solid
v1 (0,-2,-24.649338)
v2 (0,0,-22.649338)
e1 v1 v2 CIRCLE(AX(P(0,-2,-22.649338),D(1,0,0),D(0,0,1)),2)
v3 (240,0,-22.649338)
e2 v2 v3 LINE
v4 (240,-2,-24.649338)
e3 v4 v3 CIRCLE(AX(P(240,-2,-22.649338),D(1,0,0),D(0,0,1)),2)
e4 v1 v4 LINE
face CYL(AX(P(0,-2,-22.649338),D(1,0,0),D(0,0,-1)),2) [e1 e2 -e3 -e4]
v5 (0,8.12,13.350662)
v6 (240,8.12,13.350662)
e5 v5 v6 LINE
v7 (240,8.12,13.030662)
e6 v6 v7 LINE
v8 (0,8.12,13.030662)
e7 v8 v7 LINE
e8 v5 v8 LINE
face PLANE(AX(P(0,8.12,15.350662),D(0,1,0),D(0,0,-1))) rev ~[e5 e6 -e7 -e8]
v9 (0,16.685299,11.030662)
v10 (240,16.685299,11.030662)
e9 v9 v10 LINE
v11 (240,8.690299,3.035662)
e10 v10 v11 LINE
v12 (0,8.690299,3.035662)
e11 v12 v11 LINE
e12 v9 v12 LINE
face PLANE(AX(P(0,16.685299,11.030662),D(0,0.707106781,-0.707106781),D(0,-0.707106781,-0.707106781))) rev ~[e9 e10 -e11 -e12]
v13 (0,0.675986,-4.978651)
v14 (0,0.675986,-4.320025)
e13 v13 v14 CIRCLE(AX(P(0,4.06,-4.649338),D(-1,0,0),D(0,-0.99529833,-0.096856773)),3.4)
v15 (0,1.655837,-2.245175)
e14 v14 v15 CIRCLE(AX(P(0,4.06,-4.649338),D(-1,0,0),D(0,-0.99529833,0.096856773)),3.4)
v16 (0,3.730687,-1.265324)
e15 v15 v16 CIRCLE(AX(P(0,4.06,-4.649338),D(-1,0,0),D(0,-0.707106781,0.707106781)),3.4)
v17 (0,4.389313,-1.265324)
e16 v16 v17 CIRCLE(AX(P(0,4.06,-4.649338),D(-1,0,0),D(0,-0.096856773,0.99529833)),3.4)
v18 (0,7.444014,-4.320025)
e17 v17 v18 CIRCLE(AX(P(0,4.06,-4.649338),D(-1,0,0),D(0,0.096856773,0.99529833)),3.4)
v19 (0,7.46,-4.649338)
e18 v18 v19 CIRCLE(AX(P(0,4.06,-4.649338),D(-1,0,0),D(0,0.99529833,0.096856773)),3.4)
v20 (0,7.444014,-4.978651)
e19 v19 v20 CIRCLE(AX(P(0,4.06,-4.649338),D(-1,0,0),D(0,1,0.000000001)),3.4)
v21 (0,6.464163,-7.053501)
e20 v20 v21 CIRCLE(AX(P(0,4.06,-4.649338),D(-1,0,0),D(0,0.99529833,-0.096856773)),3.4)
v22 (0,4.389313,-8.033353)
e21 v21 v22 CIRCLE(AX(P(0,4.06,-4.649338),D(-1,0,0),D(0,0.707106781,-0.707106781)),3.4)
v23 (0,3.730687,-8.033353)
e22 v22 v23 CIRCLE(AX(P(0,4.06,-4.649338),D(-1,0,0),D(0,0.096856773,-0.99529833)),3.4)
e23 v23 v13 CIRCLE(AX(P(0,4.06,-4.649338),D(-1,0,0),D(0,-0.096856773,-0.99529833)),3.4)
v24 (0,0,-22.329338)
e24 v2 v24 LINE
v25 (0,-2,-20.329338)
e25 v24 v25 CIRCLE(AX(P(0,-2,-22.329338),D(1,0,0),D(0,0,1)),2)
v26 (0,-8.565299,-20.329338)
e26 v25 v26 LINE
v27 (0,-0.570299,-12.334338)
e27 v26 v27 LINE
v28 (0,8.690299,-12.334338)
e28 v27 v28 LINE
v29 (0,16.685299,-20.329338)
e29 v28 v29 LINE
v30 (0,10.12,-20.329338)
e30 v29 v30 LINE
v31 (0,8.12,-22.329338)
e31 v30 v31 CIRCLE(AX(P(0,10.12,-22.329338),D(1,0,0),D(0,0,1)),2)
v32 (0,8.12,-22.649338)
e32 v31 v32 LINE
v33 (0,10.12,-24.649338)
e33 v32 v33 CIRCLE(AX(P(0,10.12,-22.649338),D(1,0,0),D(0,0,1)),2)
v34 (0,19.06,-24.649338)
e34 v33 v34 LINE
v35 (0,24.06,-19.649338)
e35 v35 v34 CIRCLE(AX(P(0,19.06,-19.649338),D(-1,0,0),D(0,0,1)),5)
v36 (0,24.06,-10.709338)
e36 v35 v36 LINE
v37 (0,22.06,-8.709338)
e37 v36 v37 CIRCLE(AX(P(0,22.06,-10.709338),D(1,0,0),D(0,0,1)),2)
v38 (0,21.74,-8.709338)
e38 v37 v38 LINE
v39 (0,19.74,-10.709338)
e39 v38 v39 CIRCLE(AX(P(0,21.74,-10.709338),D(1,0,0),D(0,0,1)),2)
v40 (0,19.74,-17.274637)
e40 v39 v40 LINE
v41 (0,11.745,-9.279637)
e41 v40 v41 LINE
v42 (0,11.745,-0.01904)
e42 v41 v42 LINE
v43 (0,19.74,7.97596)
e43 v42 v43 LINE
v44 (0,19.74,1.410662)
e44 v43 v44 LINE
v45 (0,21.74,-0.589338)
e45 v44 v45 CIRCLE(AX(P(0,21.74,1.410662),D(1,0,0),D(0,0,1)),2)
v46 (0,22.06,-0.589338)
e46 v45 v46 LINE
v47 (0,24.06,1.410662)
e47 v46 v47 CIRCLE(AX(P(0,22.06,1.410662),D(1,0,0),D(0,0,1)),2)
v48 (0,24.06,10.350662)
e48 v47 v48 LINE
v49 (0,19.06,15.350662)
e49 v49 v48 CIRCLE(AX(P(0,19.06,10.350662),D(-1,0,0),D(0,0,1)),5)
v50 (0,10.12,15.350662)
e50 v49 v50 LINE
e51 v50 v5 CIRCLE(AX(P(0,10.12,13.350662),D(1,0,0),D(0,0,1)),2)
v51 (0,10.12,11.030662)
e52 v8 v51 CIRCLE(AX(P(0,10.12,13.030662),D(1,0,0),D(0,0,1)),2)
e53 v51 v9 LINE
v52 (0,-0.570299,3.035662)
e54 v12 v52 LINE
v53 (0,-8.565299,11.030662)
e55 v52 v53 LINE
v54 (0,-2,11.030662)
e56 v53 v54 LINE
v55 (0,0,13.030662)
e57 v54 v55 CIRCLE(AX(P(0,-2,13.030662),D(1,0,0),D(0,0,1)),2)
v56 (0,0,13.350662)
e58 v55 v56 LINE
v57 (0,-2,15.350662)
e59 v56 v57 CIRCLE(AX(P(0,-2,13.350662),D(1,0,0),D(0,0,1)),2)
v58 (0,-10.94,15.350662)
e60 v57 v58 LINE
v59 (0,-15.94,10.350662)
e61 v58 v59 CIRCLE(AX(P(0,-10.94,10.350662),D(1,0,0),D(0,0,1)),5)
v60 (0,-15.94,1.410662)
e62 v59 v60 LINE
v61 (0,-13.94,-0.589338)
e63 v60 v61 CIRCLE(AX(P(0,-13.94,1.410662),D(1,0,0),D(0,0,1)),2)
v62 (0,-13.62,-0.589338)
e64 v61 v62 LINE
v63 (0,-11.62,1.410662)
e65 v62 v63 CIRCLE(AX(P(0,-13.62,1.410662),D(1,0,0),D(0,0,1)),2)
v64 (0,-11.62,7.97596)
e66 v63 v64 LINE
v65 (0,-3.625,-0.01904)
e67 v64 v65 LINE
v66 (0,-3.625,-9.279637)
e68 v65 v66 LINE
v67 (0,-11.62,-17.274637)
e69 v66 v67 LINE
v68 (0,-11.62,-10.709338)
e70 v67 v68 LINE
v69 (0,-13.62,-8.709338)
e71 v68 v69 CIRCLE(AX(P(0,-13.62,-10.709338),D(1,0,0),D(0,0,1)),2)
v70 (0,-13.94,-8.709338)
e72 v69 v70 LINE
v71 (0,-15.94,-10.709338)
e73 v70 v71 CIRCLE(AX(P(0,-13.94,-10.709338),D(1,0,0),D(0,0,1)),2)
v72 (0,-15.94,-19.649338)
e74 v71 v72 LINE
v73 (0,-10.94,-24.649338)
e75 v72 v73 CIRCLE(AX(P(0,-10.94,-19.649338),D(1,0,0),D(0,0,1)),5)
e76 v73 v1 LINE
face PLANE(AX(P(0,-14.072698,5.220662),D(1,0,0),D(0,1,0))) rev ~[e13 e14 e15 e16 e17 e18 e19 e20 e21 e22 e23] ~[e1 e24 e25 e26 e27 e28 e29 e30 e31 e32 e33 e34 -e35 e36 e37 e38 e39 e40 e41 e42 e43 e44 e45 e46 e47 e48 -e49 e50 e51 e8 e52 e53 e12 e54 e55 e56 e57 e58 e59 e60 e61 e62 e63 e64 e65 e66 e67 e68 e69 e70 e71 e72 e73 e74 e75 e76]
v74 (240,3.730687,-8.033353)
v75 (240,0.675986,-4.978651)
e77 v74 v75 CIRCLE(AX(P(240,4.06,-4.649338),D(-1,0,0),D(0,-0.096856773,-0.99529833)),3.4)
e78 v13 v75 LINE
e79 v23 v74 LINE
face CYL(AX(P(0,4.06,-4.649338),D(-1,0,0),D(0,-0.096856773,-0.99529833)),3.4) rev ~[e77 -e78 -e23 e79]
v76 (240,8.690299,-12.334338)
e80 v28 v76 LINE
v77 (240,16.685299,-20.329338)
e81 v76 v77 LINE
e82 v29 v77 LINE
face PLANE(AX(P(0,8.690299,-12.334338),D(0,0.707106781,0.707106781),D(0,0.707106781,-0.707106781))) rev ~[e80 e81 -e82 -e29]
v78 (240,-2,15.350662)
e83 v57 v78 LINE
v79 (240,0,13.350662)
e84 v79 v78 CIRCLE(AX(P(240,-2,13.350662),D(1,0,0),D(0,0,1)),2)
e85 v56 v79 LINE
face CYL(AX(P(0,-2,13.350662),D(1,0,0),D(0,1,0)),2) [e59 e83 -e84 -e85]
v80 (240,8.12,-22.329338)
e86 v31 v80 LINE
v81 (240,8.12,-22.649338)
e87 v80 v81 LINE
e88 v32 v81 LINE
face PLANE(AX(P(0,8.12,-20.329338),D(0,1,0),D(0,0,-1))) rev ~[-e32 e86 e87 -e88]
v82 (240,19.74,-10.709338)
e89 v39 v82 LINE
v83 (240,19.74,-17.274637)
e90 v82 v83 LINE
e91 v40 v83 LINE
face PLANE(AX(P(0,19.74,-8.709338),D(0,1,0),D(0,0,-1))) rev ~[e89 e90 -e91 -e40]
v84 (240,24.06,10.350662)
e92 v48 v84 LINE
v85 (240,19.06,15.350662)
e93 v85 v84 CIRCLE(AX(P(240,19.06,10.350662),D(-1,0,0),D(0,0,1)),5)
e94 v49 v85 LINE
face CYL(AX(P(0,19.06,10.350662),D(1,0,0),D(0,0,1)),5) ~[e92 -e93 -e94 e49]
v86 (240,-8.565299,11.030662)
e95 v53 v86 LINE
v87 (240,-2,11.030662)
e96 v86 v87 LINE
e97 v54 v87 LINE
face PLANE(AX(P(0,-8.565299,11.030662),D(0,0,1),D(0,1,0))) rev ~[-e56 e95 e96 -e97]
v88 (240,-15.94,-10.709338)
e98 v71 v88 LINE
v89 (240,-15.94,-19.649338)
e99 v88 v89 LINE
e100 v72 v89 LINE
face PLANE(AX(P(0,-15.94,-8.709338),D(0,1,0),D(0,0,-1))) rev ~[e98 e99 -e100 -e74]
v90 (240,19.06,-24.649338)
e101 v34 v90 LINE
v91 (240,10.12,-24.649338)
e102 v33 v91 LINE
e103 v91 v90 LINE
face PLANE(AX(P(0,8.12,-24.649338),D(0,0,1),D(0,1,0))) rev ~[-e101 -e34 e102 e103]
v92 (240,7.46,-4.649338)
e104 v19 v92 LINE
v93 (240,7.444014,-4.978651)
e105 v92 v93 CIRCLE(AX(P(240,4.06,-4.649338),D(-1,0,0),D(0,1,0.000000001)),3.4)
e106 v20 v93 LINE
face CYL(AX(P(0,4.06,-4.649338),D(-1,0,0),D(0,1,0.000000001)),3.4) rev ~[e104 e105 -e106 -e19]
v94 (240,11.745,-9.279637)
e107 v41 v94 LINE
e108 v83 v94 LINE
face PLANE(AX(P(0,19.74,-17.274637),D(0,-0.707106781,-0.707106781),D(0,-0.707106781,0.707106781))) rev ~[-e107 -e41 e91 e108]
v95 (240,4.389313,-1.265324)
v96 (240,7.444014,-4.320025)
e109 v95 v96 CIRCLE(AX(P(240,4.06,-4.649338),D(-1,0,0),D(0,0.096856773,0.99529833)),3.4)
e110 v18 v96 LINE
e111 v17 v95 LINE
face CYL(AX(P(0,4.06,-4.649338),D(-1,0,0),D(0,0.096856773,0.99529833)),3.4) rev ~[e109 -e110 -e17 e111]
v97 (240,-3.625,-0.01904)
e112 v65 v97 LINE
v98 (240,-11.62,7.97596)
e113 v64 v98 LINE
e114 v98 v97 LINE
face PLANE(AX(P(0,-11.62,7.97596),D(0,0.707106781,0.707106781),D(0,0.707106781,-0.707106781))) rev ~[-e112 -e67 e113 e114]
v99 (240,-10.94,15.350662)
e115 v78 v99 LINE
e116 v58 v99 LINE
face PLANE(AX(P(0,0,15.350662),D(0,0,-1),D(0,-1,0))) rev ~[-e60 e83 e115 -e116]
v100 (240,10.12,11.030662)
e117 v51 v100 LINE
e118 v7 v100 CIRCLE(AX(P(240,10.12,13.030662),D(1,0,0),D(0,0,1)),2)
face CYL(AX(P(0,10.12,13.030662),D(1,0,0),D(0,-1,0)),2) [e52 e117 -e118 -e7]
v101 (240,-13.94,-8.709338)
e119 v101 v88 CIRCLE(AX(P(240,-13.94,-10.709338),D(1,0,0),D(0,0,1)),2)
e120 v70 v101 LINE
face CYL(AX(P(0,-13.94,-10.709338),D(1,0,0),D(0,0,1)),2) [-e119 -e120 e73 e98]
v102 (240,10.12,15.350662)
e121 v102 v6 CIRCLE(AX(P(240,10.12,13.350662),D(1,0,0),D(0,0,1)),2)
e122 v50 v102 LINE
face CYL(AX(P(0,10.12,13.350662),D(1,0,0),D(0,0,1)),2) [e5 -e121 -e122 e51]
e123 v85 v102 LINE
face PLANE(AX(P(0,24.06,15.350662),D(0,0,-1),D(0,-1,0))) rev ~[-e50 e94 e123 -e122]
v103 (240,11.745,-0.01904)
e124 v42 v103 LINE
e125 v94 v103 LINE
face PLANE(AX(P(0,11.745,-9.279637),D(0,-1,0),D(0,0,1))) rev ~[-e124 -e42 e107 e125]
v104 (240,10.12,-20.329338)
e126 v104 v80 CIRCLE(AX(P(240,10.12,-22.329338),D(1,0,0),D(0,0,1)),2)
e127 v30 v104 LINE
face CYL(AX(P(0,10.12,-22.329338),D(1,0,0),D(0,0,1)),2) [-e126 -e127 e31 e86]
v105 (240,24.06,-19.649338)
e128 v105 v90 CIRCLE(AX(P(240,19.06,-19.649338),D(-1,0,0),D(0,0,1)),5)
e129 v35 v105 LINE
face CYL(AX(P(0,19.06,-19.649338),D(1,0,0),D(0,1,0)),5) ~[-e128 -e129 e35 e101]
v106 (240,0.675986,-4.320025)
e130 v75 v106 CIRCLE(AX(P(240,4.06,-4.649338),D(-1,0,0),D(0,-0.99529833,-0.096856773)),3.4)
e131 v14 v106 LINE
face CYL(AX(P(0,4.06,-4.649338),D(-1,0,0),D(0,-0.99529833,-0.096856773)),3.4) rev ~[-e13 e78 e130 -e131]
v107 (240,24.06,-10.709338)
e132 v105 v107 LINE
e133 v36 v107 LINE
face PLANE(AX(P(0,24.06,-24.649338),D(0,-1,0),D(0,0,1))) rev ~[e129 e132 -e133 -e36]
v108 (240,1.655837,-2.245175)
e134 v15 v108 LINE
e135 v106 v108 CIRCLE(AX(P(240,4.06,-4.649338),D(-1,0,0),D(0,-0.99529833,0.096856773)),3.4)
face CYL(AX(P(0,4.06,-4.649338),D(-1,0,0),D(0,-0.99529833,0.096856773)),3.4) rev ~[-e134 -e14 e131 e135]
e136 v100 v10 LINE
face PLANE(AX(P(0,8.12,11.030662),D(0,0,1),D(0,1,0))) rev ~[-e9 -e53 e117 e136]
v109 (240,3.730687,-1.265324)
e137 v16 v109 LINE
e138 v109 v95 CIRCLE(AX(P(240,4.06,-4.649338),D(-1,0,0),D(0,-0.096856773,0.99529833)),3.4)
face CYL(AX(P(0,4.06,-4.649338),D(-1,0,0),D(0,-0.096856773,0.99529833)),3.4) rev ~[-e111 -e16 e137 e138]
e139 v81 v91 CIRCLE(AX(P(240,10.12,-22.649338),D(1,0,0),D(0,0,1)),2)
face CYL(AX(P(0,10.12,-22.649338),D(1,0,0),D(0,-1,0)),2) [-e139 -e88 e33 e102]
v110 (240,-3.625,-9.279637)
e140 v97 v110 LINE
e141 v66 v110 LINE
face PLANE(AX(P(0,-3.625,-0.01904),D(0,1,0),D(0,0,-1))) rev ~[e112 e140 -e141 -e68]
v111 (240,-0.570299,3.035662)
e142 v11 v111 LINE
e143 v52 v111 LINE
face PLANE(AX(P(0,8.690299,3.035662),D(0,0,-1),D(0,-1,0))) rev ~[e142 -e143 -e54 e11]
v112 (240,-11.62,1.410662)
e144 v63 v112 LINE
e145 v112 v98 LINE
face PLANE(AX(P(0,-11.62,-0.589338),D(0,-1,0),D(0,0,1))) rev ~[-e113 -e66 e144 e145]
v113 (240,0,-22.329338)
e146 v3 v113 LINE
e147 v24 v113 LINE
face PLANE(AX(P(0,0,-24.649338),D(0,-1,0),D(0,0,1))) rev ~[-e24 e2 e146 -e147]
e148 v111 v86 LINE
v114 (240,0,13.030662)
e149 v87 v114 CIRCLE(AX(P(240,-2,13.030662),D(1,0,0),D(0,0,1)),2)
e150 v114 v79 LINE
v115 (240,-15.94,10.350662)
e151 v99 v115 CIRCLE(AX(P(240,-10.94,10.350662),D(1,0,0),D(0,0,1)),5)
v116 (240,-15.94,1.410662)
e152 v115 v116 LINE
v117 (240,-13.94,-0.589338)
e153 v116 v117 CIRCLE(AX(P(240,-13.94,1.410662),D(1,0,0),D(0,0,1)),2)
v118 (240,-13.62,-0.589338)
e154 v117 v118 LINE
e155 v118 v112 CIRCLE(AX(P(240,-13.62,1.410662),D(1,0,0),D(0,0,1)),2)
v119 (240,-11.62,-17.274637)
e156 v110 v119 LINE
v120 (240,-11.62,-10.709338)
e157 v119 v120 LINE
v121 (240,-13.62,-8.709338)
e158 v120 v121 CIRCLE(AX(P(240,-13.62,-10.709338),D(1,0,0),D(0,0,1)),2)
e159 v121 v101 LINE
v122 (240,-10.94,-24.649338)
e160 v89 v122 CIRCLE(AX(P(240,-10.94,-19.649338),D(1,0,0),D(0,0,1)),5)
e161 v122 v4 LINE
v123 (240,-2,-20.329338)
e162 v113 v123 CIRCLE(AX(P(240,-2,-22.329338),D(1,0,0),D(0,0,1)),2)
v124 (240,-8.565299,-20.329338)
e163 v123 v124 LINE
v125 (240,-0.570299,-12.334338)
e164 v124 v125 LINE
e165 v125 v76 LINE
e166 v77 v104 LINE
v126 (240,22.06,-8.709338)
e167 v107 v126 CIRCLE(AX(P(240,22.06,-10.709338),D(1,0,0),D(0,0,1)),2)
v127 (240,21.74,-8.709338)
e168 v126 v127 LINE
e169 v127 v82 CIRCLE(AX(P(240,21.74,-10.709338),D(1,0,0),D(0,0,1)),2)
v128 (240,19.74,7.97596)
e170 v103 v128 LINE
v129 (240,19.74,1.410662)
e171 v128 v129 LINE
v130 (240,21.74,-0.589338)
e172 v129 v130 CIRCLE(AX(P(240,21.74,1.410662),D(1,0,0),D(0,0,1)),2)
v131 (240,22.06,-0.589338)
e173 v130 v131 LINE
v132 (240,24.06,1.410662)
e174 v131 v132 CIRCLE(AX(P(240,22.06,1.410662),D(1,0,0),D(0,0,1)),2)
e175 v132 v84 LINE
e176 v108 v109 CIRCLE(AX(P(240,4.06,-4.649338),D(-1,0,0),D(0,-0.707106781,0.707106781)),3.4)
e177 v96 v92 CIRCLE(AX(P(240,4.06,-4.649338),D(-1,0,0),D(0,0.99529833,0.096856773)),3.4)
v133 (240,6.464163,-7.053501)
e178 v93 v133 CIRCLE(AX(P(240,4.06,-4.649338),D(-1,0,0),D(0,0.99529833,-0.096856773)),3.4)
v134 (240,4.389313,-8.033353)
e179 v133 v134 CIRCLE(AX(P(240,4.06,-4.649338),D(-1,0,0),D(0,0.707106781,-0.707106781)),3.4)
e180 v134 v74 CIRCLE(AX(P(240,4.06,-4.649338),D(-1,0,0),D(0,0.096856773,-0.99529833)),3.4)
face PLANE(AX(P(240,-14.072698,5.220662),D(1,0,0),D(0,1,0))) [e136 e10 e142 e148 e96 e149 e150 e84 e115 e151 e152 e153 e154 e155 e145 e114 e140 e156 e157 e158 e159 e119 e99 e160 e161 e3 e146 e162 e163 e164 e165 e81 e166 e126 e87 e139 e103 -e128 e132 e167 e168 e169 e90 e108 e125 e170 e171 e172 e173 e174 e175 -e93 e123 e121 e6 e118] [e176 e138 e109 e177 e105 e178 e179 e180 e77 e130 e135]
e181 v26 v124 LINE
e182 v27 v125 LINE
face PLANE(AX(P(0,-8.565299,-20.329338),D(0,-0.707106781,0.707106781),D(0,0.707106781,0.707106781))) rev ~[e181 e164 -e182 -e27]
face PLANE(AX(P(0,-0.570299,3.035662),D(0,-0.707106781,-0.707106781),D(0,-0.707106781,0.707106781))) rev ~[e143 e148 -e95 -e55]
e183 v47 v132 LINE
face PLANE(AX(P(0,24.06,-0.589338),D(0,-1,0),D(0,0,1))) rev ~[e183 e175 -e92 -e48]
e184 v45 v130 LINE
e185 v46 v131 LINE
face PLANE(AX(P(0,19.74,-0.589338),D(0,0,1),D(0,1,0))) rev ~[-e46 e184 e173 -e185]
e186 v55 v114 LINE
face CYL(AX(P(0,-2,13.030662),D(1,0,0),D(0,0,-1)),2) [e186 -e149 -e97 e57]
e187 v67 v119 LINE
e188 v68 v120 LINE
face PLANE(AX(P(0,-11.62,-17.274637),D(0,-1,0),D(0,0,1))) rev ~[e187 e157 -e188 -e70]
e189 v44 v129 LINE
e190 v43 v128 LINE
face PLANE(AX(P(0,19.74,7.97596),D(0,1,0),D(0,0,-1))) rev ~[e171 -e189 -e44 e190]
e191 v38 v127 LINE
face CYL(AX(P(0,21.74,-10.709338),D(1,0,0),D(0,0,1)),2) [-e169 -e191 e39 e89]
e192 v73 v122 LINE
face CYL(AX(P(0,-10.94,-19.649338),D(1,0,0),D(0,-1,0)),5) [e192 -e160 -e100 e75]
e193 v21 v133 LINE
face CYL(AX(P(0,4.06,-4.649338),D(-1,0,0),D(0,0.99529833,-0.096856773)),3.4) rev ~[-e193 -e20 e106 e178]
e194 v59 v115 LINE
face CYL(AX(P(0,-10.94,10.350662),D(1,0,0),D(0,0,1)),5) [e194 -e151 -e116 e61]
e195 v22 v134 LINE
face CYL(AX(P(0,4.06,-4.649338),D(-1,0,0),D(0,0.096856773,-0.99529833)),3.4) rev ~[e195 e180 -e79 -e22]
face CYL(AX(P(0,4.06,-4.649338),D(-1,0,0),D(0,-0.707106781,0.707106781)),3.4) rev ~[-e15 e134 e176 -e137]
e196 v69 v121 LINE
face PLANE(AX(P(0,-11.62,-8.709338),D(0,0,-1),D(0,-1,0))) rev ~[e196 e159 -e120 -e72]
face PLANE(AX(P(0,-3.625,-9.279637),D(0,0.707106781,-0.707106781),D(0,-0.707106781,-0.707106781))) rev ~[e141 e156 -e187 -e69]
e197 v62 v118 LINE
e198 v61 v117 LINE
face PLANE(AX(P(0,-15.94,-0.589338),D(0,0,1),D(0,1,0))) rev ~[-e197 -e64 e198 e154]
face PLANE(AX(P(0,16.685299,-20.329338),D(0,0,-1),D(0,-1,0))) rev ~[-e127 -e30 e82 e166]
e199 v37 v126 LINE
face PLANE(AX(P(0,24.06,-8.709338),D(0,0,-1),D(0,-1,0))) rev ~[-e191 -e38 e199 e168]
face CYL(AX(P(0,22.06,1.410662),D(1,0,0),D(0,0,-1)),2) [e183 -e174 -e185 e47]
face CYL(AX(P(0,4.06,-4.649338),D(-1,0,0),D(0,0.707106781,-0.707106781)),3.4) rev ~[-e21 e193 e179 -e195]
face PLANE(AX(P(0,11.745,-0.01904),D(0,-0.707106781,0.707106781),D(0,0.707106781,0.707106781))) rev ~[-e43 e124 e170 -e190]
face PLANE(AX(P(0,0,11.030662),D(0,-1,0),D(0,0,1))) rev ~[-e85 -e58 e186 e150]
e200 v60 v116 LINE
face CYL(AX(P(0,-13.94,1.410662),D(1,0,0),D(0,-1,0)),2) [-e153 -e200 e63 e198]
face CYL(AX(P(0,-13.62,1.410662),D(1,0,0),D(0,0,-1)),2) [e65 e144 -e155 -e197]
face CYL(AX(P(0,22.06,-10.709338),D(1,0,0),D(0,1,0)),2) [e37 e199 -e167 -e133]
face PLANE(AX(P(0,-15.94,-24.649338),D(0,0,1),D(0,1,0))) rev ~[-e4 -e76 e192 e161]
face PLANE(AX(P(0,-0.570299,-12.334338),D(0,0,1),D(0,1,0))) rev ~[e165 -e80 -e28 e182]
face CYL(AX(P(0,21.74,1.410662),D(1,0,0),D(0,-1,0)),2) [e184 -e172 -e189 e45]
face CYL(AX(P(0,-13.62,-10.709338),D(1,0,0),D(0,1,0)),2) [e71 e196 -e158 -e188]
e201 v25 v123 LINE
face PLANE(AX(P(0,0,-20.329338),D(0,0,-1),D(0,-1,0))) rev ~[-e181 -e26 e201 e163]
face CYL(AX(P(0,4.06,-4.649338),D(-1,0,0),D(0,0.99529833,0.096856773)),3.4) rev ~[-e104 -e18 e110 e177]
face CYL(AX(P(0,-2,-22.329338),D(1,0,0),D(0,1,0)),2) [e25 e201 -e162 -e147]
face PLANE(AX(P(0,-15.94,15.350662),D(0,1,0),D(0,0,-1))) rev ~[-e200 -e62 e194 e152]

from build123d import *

# Parameters (mm, degrees)
F1_DEPTH = 240
F2_R     = 2
F3_R     = 5


with BuildPart() as f1:
    # F0 (on Right) → F1 (new body)
    with BuildSketch(Plane.YZ):
        Polygon((-11.62, 7.9759603159), (-15.94, 12.2959603159), (-15.94, -0.5893383893), (-11.62, -0.5893383893), align=None)
        Polygon((-11.62, 11.0306616107), (-15.94, 15.3506616107), (-15.94, 12.2959603159), (-11.62, 7.9759603159), (-8.7938307864, 5.1497911023), (-7.266480139, 6.6771417497), align=None)
        Polygon((-8.5652987053, 11.0306616107), (-11.62, 11.0306616107), (-7.266480139, 6.6771417497), (-5.7391294917, 8.2044923971), align=None)
        Polygon((0, 15.3506616107), (-12.8852987053, 15.3506616107), (-8.5652987053, 11.0306616107), (0, 11.0306616107), align=None)
        Polygon((-12.8852987053, 15.3506616107), (-15.94, 15.3506616107), (-11.62, 11.0306616107), (-8.5652987053, 11.0306616107), align=None)
        Polygon((-15.94, -21.5946370946), (-11.62, -17.2746370946), (-11.62, -8.7093383893), (-15.94, -8.7093383893), align=None)
        Polygon((-3.625, -12.3343383893), (-3.625, -9.2796370946), (-11.62, -17.2746370946), (-15.94, -21.5946370946), (-15.94, -24.6493383893), (-12.8852987053, -24.6493383893), (-8.5652987053, -20.3293383893), (-0.5702987053, -12.3343383893), align=None)
        Polygon((0, -20.3293383893), (-8.5652987053, -20.3293383893), (-12.8852987053, -24.6493383893), (0, -24.6493383893), align=None)
        Polygon((14.9650698751, 9.3104327805), (8.6902987053, 3.0356616107), (11.745, 3.0356616107), (11.745, -0.0190396841), (18.0197711699, 6.2557314858), (19.74, 7.9759603159), (16.6852987053, 11.0306616107), align=None)
        Polygon((21.0052987053, 15.3506616107), (16.6852987053, 11.0306616107), (19.74, 7.9759603159), (24.06, 12.2959603159), (24.06, 15.3506616107), align=None)
        Polygon((24.06, 12.2959603159), (19.74, 7.9759603159), (19.74, -0.5893383893), (24.06, -0.5893383893), align=None)
        Polygon((8.12, 11.0306616107), (16.6852987053, 11.0306616107), (21.0052987053, 15.3506616107), (8.12, 15.3506616107), align=None)
        with BuildLine():
            Line((11.745, -9.2796370946), (11.745, -0.0190396841))
            Line((11.745, -0.0190396841), (7.4440143218, -4.3200253623))
            ThreePointArc((7.4440143218, -4.3200253623), (7.456001229, -4.4844879937), (7.46, -4.6493383893))
            ThreePointArc((7.46, -4.6493383893), (7.456001229, -4.8141887849), (7.4440143218, -4.9786514164))
            Line((7.4440143218, -4.9786514164), (11.745, -9.2796370946))
        make_face()
        with BuildLine():
            Line((3.7306869729, -8.0333527111), (-0.5702987053, -12.3343383893))
            Line((-0.5702987053, -12.3343383893), (8.6902987053, -12.3343383893))
            Line((8.6902987053, -12.3343383893), (4.3893130271, -8.0333527111))
            ThreePointArc((4.3893130271, -8.0333527111), (4.06, -8.0493383893), (3.7306869729, -8.0333527111))
        make_face()
        with BuildLine():
            Line((0.6759856782, -4.3200253623), (-3.625, -0.0190396841))
            Line((-3.625, -0.0190396841), (-3.625, -9.2796370946))
            Line((-3.625, -9.2796370946), (0.6759856782, -4.9786514164))
            ThreePointArc((0.6759856782, -4.9786514164), (0.66, -4.6493383893), (0.6759856782, -4.3200253623))
        make_face()
        with BuildLine():
            Line((8.6902987053, 3.0356616107), (-0.5702987053, 3.0356616107))
            Line((-0.5702987053, 3.0356616107), (3.7306869729, -1.2653240675))
            ThreePointArc((3.7306869729, -1.2653240675), (4.06, -1.2493383893), (4.3893130271, -1.2653240675))
            Line((4.3893130271, -1.2653240675), (8.6902987053, 3.0356616107))
        make_face()
        Polygon((-5.7391294917, 8.2044923971), (-7.266480139, 6.6771417497), (-3.625, 3.0356616107), (-0.5702987053, 3.0356616107), align=None)
        Polygon((-3.625, 3.0356616107), (-7.266480139, 6.6771417497), (-8.7938307864, 5.1497911023), (-3.625, -0.0190396841), align=None)
        Polygon((11.745, -12.3343383893), (8.6902987053, -12.3343383893), (16.6852987053, -20.3293383893), (21.0052987053, -24.6493383893), (24.06, -24.6493383893), align=None)
        Polygon((19.74, -17.2746370946), (11.745, -9.2796370946), (11.745, -12.3343383893), (24.06, -24.6493383893), (24.06, -21.5946370946), align=None)
        Polygon((19.74, -8.7093383893), (19.74, -17.2746370946), (24.06, -21.5946370946), (24.06, -8.7093383893), align=None)
        Polygon((21.0052987053, -24.6493383893), (16.6852987053, -20.3293383893), (8.12, -20.3293383893), (8.12, -24.6493383893), align=None)
        with BuildLine():
            Line((11.745, 3.0356616107), (8.6902987053, 3.0356616107))
            Line((8.6902987053, 3.0356616107), (4.3893130271, -1.2653240675))
            ThreePointArc((4.3893130271, -1.2653240675), (6.464163056, -2.2451753333), (7.4440143218, -4.3200253623))
            Line((7.4440143218, -4.3200253623), (11.745, -0.0190396841))
            Line((11.745, -0.0190396841), (11.745, 3.0356616107))
        make_face()
        with BuildLine():
            Line((1.655836944, -2.2451753333), (-3.625, 3.0356616107))
            Line((-3.625, 3.0356616107), (-3.625, -0.0190396841))
            Line((-3.625, -0.0190396841), (0.6759856782, -4.3200253623))
            ThreePointArc((0.6759856782, -4.3200253623), (0.9855894874, -3.1974430763), (1.655836944, -2.2451753333))
        make_face()
        with BuildLine():
            Line((0.6759856782, -4.9786514164), (-3.625, -9.2796370946))
            Line((-3.625, -9.2796370946), (-3.625, -12.3343383893))
            Line((-3.625, -12.3343383893), (-0.5702987053, -12.3343383893))
            Line((-0.5702987053, -12.3343383893), (3.7306869729, -8.0333527111))
            ThreePointArc((3.7306869729, -8.0333527111), (1.655836944, -7.0535014454), (0.6759856782, -4.9786514164))
        make_face()
        with BuildLine():
            Line((11.745, -12.3343383893), (6.464163056, -7.0535014454))
            ThreePointArc((6.464163056, -7.0535014454), (5.511895313, -7.7237489019), (4.3893130271, -8.0333527111))
            Line((4.3893130271, -8.0333527111), (8.6902987053, -12.3343383893))
            Line((8.6902987053, -12.3343383893), (11.745, -12.3343383893))
        make_face()
        with BuildLine():
            ThreePointArc((7.4440143218, -4.9786514164), (7.1344105126, -6.1012337024), (6.464163056, -7.0535014454))
            Line((6.464163056, -7.0535014454), (11.745, -12.3343383893))
            Line((11.745, -12.3343383893), (11.745, -9.2796370946))
            Line((11.745, -9.2796370946), (7.4440143218, -4.9786514164))
        make_face()
        with BuildLine():
            Line((-0.5702987053, 3.0356616107), (-3.625, 3.0356616107))
            Line((-3.625, 3.0356616107), (1.655836944, -2.2451753333))
            ThreePointArc((1.655836944, -2.2451753333), (2.608104687, -1.5749278767), (3.7306869729, -1.2653240675))
            Line((3.7306869729, -1.2653240675), (-0.5702987053, 3.0356616107))
        make_face()
    extrude(amount=F1_DEPTH)

    # F2
    f2_edges = [f1.edges().sort_by_distance(p)[0] for p in [
        (120, 0, 11.030662),
        (120, -11.62, -0.589338),
        (120, -15.94, -0.589338),
        (120, 0, 15.350662),
        (120, 8.12, 11.030662),
        (120, 19.74, -0.589338),
        (120, 24.06, -0.589338),
        (120, 8.12, -24.649338),
        (120, 8.12, 15.350662),
        (120, -15.94, -8.709338),
        (120, -11.62, -8.709338),
        (120, 0, -24.649338),
        (120, 0, -20.329338),
        (120, 8.12, -20.329338),
        (120, 19.74, -8.709338),
        (120, 24.06, -8.709338),
    ]]
    fillet(f2_edges, radius=F2_R)

    # F3
    f3_edges = [f1.edges().sort_by_distance(p)[0] for p in [
        (120, -15.94, 15.350662),
        (120, 24.06, 15.350662),
        (120, 24.06, -24.649338),
        (120, -15.94, -24.649338),
    ]]
    fillet(f3_edges, radius=F3_R)


solid = f1.part
